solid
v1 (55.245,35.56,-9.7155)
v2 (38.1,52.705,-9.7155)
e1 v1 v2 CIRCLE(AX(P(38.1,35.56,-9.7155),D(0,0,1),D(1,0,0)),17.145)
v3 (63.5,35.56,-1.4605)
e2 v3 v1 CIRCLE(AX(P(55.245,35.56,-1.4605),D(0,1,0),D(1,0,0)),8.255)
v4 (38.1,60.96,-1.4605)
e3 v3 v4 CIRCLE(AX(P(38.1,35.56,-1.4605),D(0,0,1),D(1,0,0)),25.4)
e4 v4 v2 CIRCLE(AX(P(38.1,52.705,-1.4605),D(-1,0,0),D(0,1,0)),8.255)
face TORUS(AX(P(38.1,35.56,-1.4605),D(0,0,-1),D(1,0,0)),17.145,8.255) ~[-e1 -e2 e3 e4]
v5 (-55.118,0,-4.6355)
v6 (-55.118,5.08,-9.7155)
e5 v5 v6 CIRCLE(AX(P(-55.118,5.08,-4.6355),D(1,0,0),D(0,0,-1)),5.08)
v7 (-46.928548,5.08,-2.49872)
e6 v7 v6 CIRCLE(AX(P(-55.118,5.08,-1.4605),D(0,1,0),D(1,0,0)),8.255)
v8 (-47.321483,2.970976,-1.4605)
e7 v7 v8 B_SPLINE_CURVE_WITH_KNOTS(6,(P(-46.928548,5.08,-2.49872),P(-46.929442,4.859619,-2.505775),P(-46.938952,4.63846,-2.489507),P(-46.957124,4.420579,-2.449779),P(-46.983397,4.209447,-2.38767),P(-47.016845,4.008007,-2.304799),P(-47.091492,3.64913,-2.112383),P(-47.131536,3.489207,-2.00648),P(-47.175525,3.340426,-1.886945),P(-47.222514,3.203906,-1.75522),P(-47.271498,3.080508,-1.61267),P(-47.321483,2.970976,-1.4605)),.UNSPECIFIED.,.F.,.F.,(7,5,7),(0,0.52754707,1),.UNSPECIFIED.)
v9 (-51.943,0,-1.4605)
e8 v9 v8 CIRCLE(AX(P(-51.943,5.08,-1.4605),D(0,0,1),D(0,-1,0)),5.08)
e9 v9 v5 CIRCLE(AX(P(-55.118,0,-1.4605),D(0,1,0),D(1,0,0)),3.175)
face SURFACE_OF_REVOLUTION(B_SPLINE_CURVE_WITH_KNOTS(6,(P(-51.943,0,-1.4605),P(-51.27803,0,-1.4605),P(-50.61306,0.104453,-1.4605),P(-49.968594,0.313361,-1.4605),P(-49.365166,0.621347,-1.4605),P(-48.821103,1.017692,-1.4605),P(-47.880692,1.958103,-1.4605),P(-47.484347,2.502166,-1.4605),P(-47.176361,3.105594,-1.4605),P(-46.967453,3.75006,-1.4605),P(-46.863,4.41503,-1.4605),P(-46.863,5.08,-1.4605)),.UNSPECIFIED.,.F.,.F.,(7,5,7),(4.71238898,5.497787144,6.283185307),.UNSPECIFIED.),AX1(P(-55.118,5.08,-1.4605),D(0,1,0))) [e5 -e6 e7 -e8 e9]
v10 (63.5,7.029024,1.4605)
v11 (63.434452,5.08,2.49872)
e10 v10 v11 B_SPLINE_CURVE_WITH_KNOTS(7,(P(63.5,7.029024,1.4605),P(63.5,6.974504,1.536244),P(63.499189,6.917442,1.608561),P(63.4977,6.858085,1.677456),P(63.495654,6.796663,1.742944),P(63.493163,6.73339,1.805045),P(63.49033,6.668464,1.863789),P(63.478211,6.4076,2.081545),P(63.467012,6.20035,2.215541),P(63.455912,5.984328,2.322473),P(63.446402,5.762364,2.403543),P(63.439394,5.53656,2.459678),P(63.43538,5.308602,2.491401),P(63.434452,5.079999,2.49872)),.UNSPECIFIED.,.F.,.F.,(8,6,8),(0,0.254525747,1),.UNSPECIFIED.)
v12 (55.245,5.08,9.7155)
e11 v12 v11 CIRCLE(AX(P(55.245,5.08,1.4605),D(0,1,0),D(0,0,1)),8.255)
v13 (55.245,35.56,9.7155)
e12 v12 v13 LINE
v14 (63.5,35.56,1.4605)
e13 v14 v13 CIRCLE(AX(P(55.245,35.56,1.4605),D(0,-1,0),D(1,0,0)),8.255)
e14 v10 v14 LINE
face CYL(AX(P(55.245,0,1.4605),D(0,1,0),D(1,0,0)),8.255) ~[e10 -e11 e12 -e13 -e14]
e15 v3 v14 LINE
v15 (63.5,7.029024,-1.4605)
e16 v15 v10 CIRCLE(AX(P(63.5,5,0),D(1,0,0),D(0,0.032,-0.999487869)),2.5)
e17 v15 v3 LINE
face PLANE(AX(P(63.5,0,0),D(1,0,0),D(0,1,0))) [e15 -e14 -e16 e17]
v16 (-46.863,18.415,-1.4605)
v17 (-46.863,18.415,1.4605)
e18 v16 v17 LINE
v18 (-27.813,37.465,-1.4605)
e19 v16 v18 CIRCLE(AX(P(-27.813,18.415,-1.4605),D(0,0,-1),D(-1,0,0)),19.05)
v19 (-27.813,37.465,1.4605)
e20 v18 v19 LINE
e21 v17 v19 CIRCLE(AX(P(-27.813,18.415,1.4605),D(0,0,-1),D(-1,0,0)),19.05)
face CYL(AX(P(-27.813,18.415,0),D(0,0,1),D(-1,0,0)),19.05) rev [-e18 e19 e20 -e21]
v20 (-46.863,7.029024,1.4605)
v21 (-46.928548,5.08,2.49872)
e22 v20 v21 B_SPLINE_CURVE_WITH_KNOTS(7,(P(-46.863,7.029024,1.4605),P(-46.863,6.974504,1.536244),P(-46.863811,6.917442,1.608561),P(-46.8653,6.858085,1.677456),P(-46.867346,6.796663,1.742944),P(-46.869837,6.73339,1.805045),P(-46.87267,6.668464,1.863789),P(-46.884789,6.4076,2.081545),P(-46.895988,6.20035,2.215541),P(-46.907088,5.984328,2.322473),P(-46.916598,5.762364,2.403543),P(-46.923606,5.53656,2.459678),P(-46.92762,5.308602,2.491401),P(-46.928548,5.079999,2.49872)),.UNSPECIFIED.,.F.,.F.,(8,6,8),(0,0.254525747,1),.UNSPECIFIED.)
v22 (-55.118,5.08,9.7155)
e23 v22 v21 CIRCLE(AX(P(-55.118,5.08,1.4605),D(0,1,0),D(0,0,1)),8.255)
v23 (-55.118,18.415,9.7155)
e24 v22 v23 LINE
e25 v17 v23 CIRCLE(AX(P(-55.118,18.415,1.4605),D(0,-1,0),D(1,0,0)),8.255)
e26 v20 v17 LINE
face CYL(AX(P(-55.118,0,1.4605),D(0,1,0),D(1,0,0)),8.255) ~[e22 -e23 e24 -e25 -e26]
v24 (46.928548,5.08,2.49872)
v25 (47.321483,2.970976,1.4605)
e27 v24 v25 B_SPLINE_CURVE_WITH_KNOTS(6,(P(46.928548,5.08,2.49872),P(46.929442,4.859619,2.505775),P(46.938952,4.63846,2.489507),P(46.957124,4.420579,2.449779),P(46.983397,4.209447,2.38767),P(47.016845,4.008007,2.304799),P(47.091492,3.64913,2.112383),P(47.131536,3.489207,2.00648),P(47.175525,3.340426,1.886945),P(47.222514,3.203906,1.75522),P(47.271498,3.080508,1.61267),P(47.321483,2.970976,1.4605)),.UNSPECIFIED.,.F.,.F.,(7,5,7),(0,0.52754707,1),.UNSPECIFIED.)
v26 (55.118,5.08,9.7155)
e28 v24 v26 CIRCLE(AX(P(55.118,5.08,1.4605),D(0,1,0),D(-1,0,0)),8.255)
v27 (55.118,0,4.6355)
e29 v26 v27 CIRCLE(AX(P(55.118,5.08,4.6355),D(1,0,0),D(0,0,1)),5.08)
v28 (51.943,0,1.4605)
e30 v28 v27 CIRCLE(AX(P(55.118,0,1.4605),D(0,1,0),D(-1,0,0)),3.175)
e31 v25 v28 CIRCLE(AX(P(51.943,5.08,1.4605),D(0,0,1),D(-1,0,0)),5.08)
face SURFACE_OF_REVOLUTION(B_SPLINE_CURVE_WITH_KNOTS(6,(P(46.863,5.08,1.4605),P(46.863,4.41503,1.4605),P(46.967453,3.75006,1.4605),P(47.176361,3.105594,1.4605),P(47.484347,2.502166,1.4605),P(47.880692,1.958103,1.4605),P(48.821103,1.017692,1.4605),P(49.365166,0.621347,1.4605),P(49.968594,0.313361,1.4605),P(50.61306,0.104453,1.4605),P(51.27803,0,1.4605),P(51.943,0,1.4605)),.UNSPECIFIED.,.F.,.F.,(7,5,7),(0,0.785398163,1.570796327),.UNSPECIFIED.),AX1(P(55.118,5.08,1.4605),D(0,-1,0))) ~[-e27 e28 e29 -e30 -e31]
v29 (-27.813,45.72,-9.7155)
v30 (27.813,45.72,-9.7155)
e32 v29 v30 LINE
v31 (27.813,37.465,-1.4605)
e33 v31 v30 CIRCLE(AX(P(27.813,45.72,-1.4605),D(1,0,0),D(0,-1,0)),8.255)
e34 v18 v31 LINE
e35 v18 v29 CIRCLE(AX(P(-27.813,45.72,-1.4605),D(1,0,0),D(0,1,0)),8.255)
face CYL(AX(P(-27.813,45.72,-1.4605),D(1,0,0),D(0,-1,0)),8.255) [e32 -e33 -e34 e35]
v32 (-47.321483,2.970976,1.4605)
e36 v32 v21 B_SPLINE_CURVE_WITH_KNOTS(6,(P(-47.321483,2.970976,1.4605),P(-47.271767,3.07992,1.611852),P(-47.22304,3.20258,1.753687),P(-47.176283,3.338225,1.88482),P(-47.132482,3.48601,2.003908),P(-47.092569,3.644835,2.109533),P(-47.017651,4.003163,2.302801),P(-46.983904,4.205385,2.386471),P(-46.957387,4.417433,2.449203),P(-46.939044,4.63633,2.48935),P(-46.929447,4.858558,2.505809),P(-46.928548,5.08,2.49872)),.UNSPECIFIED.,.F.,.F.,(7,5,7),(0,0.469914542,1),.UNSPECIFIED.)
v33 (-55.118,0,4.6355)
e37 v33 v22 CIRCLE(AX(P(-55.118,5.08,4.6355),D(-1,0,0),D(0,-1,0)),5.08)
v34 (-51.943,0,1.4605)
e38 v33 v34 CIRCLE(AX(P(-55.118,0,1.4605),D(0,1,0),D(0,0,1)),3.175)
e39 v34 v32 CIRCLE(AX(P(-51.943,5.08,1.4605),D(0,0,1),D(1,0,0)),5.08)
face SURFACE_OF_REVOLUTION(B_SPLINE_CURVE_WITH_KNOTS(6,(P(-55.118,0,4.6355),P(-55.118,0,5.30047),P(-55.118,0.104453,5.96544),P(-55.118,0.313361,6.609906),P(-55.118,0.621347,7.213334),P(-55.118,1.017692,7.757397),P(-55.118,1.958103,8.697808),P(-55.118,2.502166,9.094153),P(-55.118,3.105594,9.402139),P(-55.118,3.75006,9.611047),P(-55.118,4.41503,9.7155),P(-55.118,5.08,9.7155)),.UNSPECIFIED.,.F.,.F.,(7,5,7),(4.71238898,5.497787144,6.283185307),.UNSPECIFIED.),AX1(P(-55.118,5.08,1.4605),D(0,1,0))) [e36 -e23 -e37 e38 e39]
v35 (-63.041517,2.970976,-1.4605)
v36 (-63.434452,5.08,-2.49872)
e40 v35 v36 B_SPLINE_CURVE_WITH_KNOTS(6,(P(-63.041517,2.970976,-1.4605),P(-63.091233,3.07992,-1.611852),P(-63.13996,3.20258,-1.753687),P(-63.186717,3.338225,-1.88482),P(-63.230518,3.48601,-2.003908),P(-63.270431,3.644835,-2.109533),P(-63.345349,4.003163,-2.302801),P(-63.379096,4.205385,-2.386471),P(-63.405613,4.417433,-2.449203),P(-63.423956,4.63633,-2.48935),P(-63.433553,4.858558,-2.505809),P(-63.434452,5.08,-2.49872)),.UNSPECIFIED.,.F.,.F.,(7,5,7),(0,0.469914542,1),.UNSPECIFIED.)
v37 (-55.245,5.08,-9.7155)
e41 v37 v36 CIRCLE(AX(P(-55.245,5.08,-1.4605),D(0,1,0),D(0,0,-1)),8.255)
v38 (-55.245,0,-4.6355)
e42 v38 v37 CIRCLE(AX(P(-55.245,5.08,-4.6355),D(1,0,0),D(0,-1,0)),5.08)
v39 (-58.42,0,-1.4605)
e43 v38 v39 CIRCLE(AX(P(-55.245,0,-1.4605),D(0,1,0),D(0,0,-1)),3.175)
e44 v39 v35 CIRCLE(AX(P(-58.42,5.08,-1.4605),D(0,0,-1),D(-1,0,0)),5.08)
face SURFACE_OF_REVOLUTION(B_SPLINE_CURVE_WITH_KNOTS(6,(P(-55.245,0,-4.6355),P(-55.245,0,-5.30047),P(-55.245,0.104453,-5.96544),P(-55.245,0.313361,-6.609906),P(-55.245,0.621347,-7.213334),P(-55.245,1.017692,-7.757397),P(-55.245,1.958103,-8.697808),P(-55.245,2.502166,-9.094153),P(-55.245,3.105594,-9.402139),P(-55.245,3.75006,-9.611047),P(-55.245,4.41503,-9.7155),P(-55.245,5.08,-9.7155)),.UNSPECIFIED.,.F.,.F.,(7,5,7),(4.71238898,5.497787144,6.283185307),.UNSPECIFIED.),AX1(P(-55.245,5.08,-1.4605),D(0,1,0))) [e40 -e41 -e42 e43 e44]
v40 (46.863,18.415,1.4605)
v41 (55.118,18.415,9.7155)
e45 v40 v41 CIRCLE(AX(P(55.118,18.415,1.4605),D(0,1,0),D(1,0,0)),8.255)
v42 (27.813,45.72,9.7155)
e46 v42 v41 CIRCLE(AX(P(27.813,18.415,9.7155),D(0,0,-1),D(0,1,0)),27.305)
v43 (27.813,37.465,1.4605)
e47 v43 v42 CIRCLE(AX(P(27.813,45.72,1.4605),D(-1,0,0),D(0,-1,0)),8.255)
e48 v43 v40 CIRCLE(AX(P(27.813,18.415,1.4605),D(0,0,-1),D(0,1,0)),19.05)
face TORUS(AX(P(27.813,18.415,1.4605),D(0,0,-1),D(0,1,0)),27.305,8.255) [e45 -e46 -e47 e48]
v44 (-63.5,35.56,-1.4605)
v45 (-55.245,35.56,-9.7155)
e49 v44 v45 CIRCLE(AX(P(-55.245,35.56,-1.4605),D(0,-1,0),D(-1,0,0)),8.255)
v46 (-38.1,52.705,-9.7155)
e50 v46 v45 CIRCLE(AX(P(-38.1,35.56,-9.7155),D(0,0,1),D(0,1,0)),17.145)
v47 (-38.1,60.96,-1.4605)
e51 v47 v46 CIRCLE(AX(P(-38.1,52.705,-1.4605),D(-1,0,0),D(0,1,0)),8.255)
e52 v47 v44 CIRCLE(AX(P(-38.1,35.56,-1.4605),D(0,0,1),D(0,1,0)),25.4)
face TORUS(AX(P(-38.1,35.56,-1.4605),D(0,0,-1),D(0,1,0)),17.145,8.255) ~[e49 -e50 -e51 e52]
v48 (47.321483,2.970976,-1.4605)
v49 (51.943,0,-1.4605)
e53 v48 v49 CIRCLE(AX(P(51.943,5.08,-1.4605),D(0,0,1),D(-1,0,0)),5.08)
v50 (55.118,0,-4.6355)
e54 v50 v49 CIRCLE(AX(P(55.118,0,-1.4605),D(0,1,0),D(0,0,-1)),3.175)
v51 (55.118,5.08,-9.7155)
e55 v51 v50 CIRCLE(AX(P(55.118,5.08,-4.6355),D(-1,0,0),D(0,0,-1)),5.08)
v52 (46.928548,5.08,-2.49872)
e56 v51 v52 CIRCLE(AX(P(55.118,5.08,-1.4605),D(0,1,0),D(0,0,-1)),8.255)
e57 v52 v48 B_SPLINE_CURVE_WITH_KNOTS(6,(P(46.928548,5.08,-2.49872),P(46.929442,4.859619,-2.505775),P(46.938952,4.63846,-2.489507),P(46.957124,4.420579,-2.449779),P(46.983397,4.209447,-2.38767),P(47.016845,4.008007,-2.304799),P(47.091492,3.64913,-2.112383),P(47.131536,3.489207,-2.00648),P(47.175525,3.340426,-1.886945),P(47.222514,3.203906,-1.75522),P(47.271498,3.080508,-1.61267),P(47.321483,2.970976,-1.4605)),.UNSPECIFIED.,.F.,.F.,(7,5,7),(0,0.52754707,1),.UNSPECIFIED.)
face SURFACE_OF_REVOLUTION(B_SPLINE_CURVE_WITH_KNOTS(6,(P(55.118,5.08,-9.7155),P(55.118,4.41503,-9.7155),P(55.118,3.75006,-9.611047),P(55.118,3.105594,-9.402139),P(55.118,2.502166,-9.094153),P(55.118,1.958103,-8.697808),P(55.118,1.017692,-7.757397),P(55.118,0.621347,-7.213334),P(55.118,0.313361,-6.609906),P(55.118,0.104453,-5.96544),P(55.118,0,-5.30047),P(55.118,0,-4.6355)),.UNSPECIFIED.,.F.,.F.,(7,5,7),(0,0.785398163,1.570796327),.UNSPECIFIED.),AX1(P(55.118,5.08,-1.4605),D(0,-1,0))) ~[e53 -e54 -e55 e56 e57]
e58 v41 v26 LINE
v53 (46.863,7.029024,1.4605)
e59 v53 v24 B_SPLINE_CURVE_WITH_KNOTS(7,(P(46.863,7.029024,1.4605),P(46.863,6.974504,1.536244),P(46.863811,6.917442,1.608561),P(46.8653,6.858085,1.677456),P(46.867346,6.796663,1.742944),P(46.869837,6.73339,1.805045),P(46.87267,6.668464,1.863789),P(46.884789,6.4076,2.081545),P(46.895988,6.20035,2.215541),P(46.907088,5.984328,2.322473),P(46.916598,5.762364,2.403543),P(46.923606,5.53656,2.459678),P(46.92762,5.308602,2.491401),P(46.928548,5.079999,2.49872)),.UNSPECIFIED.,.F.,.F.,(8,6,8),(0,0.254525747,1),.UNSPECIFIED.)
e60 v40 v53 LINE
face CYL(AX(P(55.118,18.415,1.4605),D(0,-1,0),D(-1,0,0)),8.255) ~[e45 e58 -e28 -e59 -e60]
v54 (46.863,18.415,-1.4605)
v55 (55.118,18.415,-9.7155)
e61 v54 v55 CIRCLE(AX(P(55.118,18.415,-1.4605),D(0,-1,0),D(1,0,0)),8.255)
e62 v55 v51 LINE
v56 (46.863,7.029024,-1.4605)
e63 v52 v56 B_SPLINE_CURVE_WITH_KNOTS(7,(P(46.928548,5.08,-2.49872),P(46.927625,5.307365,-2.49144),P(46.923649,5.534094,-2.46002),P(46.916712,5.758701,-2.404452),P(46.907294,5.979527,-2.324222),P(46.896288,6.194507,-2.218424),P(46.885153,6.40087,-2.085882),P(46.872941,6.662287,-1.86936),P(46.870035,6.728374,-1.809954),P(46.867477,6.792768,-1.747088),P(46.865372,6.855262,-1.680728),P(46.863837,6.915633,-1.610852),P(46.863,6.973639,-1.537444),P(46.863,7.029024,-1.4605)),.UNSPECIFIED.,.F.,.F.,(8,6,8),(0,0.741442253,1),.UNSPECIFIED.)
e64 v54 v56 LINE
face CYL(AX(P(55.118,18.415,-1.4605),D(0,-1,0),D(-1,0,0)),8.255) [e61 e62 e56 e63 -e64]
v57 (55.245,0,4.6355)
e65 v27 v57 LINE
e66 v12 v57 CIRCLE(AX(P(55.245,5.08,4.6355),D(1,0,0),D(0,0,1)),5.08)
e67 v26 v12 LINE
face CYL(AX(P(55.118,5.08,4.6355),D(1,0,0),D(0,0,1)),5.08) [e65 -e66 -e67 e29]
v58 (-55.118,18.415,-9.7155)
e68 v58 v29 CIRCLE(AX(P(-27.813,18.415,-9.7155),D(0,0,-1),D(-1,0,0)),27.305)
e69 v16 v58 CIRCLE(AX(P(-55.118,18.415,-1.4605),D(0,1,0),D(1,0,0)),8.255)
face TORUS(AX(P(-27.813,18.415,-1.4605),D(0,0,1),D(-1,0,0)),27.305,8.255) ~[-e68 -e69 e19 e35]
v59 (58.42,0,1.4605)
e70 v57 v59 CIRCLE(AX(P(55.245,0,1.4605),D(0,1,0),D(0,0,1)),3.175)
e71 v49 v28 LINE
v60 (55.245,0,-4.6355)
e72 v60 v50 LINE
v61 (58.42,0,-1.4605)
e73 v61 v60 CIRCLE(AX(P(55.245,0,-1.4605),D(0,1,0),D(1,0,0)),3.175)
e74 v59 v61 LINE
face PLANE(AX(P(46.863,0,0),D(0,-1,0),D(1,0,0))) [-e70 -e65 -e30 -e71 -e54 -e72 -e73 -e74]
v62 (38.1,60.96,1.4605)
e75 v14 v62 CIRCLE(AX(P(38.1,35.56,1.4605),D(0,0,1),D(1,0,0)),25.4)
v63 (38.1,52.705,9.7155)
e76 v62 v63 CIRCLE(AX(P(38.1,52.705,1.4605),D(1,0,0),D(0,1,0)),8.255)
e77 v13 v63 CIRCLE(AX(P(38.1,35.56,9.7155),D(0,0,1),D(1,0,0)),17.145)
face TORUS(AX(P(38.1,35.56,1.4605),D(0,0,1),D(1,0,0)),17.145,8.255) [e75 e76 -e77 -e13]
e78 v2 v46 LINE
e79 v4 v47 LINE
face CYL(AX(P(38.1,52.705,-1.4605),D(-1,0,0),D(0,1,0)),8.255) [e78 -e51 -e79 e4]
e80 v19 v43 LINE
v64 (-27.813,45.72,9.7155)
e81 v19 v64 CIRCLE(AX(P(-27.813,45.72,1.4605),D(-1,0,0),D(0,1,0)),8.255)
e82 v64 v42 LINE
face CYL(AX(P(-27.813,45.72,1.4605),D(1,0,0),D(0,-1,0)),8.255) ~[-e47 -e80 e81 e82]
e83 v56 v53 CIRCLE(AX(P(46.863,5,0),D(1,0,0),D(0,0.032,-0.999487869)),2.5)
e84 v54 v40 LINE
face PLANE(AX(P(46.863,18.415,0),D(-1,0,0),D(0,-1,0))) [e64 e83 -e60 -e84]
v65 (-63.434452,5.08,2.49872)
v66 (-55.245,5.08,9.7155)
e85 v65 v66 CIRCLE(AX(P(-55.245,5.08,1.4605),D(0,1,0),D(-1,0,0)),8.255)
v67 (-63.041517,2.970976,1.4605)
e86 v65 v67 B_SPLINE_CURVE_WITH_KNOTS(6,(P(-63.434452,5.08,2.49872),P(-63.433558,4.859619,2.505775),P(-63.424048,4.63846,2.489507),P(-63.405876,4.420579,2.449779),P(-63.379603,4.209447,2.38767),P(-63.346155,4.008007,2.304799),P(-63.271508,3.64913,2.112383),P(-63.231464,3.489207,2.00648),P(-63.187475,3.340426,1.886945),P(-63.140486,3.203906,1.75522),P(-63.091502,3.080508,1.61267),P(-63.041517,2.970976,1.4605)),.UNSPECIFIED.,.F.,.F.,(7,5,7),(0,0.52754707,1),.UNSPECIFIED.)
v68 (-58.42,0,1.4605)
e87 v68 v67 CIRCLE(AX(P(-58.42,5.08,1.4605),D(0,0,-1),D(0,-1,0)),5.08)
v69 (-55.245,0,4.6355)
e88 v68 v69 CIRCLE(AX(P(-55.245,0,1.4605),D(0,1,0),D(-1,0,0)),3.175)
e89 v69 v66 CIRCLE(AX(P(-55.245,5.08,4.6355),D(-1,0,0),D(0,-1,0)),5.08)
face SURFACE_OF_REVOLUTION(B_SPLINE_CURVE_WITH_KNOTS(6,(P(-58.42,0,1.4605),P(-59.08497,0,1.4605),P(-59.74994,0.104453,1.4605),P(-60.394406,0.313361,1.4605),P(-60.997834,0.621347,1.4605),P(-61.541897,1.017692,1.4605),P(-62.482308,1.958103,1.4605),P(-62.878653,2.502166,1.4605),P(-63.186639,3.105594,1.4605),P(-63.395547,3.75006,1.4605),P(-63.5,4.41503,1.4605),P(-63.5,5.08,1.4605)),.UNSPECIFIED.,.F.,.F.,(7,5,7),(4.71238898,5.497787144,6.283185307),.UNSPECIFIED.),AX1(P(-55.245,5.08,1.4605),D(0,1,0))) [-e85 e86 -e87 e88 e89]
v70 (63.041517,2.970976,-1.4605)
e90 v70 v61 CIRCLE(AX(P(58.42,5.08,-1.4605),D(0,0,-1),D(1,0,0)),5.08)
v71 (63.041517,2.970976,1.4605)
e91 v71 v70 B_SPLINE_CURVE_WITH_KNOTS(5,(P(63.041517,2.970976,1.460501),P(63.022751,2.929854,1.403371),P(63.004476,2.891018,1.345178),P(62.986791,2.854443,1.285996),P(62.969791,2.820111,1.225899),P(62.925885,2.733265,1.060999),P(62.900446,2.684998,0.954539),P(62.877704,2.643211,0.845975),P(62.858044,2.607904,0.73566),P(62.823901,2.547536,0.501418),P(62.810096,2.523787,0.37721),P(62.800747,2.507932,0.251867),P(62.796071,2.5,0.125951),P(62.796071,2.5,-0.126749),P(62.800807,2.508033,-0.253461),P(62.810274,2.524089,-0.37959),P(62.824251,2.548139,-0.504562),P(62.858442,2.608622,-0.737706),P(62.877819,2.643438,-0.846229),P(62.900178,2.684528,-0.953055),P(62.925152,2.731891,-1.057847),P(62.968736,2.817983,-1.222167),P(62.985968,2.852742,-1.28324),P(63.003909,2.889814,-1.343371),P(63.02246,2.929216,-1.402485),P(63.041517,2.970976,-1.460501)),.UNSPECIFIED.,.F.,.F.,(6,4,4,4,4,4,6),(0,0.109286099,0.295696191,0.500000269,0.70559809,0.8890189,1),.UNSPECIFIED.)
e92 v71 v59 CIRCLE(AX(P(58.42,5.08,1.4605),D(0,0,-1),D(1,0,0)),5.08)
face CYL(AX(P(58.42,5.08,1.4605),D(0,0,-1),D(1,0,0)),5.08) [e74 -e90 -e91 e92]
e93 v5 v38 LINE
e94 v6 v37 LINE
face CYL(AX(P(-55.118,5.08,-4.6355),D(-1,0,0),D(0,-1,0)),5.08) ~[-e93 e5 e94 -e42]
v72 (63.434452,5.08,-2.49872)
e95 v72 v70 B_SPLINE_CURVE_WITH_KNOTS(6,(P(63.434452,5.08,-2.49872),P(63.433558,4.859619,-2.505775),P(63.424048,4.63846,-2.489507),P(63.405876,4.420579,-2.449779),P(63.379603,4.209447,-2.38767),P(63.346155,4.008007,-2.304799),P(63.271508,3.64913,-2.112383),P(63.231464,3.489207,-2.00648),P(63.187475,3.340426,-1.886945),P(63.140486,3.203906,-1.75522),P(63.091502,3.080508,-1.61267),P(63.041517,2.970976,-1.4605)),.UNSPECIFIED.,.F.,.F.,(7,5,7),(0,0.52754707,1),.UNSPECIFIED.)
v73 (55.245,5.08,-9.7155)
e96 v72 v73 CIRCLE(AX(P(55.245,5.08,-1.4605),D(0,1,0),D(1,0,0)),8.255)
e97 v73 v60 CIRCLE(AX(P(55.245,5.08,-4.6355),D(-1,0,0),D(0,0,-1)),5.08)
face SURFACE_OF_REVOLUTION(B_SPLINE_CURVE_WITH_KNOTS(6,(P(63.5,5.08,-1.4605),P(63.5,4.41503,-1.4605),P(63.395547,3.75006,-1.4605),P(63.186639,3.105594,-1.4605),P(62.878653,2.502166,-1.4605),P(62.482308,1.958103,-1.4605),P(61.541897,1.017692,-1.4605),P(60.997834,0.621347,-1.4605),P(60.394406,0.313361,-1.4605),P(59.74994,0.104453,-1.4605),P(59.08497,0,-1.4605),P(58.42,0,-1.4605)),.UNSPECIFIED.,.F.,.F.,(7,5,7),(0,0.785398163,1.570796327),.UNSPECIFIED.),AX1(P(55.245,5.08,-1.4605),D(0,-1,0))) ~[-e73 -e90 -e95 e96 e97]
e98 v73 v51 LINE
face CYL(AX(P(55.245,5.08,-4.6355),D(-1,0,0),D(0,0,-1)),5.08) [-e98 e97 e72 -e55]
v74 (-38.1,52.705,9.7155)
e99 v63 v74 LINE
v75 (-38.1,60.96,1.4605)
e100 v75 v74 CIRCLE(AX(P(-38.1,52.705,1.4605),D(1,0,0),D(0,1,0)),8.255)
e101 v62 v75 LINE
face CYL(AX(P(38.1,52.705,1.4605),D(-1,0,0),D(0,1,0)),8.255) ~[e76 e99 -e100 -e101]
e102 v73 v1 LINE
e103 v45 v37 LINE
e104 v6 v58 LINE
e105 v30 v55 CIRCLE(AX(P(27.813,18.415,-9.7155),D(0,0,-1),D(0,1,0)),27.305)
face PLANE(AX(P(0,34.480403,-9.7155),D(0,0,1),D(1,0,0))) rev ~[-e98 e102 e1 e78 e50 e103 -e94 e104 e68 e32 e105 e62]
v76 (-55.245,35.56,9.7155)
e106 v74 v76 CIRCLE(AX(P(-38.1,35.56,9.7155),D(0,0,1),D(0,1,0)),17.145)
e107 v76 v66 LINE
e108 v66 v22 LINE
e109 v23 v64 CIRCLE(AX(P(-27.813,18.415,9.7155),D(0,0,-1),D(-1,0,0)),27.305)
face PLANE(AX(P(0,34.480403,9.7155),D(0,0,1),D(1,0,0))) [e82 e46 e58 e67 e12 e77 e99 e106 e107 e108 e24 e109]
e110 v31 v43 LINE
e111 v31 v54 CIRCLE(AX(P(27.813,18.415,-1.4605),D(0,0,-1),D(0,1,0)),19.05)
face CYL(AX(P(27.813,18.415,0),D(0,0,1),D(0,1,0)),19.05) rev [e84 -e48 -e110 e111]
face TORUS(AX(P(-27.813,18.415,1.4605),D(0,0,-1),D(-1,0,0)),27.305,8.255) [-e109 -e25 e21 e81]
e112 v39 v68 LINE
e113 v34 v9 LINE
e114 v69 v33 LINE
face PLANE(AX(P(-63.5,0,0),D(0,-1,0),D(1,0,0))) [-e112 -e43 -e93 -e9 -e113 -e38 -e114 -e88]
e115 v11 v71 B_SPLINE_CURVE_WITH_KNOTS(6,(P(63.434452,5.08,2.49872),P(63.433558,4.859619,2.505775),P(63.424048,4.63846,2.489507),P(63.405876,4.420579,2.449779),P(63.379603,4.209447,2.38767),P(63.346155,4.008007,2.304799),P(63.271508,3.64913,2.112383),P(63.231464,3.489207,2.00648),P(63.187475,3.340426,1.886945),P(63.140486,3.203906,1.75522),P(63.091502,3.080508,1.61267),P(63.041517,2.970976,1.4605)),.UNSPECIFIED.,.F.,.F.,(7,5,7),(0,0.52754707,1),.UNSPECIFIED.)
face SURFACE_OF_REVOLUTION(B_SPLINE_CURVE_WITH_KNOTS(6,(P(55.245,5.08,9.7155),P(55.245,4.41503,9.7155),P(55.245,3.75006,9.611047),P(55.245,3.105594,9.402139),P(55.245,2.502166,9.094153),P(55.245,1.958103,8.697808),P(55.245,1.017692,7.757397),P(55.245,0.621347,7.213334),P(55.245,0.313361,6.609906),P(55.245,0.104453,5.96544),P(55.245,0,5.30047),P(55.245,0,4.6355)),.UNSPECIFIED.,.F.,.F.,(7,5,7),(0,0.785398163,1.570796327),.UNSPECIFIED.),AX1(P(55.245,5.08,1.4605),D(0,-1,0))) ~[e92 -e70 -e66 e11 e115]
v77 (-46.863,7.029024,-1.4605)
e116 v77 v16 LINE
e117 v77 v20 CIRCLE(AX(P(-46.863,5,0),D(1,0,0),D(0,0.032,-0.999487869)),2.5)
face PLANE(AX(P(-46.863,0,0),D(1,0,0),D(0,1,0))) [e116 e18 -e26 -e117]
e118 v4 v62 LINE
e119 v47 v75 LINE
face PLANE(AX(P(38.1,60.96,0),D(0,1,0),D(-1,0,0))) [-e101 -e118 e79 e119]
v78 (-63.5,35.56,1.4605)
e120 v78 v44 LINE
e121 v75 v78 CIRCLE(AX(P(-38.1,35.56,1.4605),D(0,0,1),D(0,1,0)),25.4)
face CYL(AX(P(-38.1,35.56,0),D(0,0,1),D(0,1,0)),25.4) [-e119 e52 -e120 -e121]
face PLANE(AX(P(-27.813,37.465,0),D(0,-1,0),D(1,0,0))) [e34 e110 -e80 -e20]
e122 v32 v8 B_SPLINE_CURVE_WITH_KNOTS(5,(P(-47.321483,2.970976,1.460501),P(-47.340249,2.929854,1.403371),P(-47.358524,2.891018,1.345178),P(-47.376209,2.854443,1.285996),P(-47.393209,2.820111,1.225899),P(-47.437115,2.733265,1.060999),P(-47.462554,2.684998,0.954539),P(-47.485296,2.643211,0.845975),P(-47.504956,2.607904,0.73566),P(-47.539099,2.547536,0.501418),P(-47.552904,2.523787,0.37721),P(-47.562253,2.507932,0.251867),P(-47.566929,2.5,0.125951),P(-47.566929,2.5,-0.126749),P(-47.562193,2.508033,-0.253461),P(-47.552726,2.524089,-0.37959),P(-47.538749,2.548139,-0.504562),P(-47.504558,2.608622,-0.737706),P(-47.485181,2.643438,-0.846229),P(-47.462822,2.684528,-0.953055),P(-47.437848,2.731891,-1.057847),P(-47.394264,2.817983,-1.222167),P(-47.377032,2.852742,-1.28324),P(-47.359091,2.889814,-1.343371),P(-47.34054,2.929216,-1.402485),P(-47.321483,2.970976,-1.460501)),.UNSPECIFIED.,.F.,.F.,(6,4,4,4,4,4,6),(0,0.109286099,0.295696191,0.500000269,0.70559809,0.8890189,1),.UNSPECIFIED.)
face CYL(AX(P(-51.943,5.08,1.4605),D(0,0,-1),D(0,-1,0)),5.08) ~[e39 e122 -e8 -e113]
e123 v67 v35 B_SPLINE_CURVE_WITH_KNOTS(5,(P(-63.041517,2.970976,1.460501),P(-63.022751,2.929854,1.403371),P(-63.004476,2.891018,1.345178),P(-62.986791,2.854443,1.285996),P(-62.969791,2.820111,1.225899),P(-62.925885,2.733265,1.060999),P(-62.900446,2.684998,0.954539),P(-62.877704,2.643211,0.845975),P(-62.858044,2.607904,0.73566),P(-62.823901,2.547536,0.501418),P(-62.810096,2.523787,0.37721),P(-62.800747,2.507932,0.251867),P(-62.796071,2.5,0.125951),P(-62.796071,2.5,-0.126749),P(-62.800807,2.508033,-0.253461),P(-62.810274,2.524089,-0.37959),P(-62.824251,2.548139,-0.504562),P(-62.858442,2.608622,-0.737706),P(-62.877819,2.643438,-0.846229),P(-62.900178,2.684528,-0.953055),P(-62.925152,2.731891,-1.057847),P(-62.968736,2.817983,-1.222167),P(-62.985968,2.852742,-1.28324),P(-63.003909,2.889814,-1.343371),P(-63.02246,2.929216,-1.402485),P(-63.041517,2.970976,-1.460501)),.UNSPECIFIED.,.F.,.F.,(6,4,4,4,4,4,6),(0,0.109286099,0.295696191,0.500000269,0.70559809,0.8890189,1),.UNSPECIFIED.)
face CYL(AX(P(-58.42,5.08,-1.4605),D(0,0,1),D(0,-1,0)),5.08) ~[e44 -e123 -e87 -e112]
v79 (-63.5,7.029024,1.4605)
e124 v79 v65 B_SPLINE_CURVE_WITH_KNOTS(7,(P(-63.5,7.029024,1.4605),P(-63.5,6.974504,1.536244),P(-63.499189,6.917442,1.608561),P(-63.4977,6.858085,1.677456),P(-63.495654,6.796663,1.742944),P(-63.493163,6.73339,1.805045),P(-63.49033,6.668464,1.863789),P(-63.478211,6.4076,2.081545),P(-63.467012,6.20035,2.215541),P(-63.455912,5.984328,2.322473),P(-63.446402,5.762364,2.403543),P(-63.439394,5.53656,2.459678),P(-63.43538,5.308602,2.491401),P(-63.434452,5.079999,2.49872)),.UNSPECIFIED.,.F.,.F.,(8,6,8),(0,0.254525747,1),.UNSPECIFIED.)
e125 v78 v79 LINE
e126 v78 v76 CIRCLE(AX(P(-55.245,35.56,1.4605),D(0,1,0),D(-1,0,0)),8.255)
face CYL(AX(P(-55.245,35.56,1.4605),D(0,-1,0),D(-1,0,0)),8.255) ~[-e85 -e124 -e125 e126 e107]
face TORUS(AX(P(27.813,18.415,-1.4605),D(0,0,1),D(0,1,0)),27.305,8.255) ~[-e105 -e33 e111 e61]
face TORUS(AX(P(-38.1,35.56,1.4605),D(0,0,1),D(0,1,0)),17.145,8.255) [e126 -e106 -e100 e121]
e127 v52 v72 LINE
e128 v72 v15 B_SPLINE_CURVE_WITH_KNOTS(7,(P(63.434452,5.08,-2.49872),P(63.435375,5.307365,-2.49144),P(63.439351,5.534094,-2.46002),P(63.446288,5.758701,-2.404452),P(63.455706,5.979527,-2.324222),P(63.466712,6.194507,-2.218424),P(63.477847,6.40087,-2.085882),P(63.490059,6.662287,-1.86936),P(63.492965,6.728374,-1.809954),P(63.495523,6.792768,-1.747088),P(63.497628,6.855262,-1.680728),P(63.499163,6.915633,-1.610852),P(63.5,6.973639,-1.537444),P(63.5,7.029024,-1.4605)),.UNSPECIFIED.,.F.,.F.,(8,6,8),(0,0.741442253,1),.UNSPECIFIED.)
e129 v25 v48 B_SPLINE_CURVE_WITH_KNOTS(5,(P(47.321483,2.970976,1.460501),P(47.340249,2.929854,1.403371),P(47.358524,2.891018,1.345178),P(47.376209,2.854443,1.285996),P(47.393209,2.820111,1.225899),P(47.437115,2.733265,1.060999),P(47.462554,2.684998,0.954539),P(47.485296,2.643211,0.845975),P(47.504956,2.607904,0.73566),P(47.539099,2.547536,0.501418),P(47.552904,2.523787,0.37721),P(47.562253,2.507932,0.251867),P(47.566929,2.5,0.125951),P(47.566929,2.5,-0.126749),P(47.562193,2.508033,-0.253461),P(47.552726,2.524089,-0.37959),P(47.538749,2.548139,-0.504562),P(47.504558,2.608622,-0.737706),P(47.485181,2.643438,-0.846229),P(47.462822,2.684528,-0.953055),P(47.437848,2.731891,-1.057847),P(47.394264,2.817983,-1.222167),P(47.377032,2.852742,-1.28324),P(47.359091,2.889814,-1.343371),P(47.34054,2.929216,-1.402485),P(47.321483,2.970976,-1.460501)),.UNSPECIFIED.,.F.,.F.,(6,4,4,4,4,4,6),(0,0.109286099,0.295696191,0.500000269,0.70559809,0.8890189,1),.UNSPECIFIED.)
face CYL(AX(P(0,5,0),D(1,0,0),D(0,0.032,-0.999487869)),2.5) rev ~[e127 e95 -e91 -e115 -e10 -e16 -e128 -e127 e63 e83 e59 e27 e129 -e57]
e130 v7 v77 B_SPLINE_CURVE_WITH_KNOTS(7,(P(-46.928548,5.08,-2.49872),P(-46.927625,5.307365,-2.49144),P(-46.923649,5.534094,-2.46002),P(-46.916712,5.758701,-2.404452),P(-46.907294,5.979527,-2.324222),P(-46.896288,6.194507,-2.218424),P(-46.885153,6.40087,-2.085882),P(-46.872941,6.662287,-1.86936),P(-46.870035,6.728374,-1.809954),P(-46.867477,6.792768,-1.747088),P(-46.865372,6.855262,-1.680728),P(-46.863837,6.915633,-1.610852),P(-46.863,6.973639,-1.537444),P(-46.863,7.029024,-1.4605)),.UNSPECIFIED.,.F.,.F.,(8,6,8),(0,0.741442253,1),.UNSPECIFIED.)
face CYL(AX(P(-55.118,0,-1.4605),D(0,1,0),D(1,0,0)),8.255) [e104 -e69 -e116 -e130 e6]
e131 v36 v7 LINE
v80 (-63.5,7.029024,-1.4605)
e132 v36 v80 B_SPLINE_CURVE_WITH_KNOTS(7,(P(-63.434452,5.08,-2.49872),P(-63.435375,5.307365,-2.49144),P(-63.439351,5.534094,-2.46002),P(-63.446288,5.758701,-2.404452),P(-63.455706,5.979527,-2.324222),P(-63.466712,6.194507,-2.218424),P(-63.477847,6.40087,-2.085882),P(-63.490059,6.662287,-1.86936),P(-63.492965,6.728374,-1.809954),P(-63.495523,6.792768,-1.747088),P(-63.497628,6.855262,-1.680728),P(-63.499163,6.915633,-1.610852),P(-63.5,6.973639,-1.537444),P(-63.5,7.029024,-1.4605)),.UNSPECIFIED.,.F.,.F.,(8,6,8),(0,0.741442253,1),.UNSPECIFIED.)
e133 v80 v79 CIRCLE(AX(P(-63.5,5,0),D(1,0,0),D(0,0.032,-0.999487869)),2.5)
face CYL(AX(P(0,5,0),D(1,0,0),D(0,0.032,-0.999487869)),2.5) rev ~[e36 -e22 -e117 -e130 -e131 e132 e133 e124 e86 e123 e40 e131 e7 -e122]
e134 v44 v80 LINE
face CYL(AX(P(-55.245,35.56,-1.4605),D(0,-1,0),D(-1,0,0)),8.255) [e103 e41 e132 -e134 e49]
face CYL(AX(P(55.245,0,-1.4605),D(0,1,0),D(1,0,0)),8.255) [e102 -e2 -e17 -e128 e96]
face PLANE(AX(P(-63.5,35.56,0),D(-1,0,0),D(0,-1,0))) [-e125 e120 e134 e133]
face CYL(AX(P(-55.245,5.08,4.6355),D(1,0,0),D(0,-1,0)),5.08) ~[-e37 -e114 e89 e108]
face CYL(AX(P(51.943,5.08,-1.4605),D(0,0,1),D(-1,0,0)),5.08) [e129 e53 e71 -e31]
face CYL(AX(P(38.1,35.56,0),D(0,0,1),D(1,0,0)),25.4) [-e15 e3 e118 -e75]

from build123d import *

# Parameters (mm, degrees)
BOSS_EXTRUDE1_DEPTH   = 9.7155
FILLET2_R             = 8.255
FILLET4_R             = 5.08
CROQUIS2_R            = 2.5
CORTAR_EXTRUIR2_DEPTH = 77.724


with BuildPart() as part:
    # Sketch1 → Boss-Extrude1 (new, symmetric)
    with BuildSketch(Plane.XY):
        with BuildLine():
            Line((-46.863, 0), (-46.863, 18.415))
            ThreePointArc((-46.863, 18.415), (-41.283384182, 31.885384182), (-27.813, 37.465))
            Line((-27.813, 37.465), (27.813, 37.465))
            ThreePointArc((27.813, 37.465), (41.283384182, 31.885384182), (46.863, 18.415))
            Line((46.863, 18.415), (46.863, 0))
            Line((46.863, 0), (63.5, 0))
            Line((63.5, 0), (63.5, 35.56))
            ThreePointArc((63.5, 35.56), (56.060512242, 53.520512242), (38.1, 60.96))
            Line((38.1, 60.96), (-38.1, 60.96))
            ThreePointArc((-38.1, 60.96), (-56.060512242, 53.520512242), (-63.5, 35.56))
            Line((-63.5, 35.56), (-63.5, 0))
            Line((-63.5, 0), (-46.863, 0))
        make_face()
    extrude(amount=BOSS_EXTRUDE1_DEPTH, both=True)

    # Fillet2
    fillet2_edges = [part.edges().sort_by_distance(p)[0] for p in [
        (56.060512242, 53.520512242, 9.7155),
        (-63.5, 17.78, -9.7155),
        (-46.863, 9.2075, -9.7155),
        (-41.283384182, 31.885384182, -9.7155),
        (0, 37.465, -9.7155),
        (41.283384182, 31.885384182, -9.7155),
        (63.5, 17.78, 9.7155),
        (46.863, 9.2075, -9.7155),
        (63.5, 17.78, -9.7155),
        (56.060512242, 53.520512242, -9.7155),
        (0, 60.96, -9.7155),
        (-56.060512242, 53.520512242, -9.7155),
        (46.863, 9.2075, 9.7155),
        (41.283384182, 31.885384182, 9.7155),
        (0, 37.465, 9.7155),
        (-41.283384182, 31.885384182, 9.7155),
        (-46.863, 9.2075, 9.7155),
        (-63.5, 17.78, 9.7155),
        (-56.060512242, 53.520512242, 9.7155),
        (0, 60.96, 9.7155),
    ]]
    fillet(fillet2_edges, radius=FILLET2_R)

    # Fillet4
    fillet4_edges = [part.edges().sort_by_distance(p)[0] for p in [
        (-55.1815, 0, 9.7155),
        (55.1815, 0, 9.7155),
        (-46.863, 0, 0),
        (-55.1815, 0, -9.7155),
        (-63.5, 0, 0),
        (-61.082166479, 0, 7.297666479),
        (-61.082166479, 0, -7.297666479),
        (-49.280833521, 0, -7.297666479),
        (-49.280833521, 0, 7.297666479),
        (46.863, 0, 0),
        (55.1815, 0, -9.7155),
        (63.5, 0, 0),
        (61.082166479, 0, 7.297666479),
        (61.082166479, 0, -7.297666479),
        (49.280833521, 0, -7.297666479),
        (49.280833521, 0, 7.297666479),
    ]]
    fillet(fillet4_edges, radius=FILLET4_R)

    # Croquis2 → Cortar-Extruir2 (cut, symmetric)
    with BuildSketch(Plane(origin=(0, 0, 0), x_dir=(0, 0, -1), z_dir=(1, 0, 0))):
        with Locations(Location((0, 5, 0), (0, 0, 1.833777999))):
            Circle(CROQUIS2_R)
    extrude(amount=CORTAR_EXTRUIR2_DEPTH, both=True, mode=Mode.SUBTRACT)


solid = part.part
